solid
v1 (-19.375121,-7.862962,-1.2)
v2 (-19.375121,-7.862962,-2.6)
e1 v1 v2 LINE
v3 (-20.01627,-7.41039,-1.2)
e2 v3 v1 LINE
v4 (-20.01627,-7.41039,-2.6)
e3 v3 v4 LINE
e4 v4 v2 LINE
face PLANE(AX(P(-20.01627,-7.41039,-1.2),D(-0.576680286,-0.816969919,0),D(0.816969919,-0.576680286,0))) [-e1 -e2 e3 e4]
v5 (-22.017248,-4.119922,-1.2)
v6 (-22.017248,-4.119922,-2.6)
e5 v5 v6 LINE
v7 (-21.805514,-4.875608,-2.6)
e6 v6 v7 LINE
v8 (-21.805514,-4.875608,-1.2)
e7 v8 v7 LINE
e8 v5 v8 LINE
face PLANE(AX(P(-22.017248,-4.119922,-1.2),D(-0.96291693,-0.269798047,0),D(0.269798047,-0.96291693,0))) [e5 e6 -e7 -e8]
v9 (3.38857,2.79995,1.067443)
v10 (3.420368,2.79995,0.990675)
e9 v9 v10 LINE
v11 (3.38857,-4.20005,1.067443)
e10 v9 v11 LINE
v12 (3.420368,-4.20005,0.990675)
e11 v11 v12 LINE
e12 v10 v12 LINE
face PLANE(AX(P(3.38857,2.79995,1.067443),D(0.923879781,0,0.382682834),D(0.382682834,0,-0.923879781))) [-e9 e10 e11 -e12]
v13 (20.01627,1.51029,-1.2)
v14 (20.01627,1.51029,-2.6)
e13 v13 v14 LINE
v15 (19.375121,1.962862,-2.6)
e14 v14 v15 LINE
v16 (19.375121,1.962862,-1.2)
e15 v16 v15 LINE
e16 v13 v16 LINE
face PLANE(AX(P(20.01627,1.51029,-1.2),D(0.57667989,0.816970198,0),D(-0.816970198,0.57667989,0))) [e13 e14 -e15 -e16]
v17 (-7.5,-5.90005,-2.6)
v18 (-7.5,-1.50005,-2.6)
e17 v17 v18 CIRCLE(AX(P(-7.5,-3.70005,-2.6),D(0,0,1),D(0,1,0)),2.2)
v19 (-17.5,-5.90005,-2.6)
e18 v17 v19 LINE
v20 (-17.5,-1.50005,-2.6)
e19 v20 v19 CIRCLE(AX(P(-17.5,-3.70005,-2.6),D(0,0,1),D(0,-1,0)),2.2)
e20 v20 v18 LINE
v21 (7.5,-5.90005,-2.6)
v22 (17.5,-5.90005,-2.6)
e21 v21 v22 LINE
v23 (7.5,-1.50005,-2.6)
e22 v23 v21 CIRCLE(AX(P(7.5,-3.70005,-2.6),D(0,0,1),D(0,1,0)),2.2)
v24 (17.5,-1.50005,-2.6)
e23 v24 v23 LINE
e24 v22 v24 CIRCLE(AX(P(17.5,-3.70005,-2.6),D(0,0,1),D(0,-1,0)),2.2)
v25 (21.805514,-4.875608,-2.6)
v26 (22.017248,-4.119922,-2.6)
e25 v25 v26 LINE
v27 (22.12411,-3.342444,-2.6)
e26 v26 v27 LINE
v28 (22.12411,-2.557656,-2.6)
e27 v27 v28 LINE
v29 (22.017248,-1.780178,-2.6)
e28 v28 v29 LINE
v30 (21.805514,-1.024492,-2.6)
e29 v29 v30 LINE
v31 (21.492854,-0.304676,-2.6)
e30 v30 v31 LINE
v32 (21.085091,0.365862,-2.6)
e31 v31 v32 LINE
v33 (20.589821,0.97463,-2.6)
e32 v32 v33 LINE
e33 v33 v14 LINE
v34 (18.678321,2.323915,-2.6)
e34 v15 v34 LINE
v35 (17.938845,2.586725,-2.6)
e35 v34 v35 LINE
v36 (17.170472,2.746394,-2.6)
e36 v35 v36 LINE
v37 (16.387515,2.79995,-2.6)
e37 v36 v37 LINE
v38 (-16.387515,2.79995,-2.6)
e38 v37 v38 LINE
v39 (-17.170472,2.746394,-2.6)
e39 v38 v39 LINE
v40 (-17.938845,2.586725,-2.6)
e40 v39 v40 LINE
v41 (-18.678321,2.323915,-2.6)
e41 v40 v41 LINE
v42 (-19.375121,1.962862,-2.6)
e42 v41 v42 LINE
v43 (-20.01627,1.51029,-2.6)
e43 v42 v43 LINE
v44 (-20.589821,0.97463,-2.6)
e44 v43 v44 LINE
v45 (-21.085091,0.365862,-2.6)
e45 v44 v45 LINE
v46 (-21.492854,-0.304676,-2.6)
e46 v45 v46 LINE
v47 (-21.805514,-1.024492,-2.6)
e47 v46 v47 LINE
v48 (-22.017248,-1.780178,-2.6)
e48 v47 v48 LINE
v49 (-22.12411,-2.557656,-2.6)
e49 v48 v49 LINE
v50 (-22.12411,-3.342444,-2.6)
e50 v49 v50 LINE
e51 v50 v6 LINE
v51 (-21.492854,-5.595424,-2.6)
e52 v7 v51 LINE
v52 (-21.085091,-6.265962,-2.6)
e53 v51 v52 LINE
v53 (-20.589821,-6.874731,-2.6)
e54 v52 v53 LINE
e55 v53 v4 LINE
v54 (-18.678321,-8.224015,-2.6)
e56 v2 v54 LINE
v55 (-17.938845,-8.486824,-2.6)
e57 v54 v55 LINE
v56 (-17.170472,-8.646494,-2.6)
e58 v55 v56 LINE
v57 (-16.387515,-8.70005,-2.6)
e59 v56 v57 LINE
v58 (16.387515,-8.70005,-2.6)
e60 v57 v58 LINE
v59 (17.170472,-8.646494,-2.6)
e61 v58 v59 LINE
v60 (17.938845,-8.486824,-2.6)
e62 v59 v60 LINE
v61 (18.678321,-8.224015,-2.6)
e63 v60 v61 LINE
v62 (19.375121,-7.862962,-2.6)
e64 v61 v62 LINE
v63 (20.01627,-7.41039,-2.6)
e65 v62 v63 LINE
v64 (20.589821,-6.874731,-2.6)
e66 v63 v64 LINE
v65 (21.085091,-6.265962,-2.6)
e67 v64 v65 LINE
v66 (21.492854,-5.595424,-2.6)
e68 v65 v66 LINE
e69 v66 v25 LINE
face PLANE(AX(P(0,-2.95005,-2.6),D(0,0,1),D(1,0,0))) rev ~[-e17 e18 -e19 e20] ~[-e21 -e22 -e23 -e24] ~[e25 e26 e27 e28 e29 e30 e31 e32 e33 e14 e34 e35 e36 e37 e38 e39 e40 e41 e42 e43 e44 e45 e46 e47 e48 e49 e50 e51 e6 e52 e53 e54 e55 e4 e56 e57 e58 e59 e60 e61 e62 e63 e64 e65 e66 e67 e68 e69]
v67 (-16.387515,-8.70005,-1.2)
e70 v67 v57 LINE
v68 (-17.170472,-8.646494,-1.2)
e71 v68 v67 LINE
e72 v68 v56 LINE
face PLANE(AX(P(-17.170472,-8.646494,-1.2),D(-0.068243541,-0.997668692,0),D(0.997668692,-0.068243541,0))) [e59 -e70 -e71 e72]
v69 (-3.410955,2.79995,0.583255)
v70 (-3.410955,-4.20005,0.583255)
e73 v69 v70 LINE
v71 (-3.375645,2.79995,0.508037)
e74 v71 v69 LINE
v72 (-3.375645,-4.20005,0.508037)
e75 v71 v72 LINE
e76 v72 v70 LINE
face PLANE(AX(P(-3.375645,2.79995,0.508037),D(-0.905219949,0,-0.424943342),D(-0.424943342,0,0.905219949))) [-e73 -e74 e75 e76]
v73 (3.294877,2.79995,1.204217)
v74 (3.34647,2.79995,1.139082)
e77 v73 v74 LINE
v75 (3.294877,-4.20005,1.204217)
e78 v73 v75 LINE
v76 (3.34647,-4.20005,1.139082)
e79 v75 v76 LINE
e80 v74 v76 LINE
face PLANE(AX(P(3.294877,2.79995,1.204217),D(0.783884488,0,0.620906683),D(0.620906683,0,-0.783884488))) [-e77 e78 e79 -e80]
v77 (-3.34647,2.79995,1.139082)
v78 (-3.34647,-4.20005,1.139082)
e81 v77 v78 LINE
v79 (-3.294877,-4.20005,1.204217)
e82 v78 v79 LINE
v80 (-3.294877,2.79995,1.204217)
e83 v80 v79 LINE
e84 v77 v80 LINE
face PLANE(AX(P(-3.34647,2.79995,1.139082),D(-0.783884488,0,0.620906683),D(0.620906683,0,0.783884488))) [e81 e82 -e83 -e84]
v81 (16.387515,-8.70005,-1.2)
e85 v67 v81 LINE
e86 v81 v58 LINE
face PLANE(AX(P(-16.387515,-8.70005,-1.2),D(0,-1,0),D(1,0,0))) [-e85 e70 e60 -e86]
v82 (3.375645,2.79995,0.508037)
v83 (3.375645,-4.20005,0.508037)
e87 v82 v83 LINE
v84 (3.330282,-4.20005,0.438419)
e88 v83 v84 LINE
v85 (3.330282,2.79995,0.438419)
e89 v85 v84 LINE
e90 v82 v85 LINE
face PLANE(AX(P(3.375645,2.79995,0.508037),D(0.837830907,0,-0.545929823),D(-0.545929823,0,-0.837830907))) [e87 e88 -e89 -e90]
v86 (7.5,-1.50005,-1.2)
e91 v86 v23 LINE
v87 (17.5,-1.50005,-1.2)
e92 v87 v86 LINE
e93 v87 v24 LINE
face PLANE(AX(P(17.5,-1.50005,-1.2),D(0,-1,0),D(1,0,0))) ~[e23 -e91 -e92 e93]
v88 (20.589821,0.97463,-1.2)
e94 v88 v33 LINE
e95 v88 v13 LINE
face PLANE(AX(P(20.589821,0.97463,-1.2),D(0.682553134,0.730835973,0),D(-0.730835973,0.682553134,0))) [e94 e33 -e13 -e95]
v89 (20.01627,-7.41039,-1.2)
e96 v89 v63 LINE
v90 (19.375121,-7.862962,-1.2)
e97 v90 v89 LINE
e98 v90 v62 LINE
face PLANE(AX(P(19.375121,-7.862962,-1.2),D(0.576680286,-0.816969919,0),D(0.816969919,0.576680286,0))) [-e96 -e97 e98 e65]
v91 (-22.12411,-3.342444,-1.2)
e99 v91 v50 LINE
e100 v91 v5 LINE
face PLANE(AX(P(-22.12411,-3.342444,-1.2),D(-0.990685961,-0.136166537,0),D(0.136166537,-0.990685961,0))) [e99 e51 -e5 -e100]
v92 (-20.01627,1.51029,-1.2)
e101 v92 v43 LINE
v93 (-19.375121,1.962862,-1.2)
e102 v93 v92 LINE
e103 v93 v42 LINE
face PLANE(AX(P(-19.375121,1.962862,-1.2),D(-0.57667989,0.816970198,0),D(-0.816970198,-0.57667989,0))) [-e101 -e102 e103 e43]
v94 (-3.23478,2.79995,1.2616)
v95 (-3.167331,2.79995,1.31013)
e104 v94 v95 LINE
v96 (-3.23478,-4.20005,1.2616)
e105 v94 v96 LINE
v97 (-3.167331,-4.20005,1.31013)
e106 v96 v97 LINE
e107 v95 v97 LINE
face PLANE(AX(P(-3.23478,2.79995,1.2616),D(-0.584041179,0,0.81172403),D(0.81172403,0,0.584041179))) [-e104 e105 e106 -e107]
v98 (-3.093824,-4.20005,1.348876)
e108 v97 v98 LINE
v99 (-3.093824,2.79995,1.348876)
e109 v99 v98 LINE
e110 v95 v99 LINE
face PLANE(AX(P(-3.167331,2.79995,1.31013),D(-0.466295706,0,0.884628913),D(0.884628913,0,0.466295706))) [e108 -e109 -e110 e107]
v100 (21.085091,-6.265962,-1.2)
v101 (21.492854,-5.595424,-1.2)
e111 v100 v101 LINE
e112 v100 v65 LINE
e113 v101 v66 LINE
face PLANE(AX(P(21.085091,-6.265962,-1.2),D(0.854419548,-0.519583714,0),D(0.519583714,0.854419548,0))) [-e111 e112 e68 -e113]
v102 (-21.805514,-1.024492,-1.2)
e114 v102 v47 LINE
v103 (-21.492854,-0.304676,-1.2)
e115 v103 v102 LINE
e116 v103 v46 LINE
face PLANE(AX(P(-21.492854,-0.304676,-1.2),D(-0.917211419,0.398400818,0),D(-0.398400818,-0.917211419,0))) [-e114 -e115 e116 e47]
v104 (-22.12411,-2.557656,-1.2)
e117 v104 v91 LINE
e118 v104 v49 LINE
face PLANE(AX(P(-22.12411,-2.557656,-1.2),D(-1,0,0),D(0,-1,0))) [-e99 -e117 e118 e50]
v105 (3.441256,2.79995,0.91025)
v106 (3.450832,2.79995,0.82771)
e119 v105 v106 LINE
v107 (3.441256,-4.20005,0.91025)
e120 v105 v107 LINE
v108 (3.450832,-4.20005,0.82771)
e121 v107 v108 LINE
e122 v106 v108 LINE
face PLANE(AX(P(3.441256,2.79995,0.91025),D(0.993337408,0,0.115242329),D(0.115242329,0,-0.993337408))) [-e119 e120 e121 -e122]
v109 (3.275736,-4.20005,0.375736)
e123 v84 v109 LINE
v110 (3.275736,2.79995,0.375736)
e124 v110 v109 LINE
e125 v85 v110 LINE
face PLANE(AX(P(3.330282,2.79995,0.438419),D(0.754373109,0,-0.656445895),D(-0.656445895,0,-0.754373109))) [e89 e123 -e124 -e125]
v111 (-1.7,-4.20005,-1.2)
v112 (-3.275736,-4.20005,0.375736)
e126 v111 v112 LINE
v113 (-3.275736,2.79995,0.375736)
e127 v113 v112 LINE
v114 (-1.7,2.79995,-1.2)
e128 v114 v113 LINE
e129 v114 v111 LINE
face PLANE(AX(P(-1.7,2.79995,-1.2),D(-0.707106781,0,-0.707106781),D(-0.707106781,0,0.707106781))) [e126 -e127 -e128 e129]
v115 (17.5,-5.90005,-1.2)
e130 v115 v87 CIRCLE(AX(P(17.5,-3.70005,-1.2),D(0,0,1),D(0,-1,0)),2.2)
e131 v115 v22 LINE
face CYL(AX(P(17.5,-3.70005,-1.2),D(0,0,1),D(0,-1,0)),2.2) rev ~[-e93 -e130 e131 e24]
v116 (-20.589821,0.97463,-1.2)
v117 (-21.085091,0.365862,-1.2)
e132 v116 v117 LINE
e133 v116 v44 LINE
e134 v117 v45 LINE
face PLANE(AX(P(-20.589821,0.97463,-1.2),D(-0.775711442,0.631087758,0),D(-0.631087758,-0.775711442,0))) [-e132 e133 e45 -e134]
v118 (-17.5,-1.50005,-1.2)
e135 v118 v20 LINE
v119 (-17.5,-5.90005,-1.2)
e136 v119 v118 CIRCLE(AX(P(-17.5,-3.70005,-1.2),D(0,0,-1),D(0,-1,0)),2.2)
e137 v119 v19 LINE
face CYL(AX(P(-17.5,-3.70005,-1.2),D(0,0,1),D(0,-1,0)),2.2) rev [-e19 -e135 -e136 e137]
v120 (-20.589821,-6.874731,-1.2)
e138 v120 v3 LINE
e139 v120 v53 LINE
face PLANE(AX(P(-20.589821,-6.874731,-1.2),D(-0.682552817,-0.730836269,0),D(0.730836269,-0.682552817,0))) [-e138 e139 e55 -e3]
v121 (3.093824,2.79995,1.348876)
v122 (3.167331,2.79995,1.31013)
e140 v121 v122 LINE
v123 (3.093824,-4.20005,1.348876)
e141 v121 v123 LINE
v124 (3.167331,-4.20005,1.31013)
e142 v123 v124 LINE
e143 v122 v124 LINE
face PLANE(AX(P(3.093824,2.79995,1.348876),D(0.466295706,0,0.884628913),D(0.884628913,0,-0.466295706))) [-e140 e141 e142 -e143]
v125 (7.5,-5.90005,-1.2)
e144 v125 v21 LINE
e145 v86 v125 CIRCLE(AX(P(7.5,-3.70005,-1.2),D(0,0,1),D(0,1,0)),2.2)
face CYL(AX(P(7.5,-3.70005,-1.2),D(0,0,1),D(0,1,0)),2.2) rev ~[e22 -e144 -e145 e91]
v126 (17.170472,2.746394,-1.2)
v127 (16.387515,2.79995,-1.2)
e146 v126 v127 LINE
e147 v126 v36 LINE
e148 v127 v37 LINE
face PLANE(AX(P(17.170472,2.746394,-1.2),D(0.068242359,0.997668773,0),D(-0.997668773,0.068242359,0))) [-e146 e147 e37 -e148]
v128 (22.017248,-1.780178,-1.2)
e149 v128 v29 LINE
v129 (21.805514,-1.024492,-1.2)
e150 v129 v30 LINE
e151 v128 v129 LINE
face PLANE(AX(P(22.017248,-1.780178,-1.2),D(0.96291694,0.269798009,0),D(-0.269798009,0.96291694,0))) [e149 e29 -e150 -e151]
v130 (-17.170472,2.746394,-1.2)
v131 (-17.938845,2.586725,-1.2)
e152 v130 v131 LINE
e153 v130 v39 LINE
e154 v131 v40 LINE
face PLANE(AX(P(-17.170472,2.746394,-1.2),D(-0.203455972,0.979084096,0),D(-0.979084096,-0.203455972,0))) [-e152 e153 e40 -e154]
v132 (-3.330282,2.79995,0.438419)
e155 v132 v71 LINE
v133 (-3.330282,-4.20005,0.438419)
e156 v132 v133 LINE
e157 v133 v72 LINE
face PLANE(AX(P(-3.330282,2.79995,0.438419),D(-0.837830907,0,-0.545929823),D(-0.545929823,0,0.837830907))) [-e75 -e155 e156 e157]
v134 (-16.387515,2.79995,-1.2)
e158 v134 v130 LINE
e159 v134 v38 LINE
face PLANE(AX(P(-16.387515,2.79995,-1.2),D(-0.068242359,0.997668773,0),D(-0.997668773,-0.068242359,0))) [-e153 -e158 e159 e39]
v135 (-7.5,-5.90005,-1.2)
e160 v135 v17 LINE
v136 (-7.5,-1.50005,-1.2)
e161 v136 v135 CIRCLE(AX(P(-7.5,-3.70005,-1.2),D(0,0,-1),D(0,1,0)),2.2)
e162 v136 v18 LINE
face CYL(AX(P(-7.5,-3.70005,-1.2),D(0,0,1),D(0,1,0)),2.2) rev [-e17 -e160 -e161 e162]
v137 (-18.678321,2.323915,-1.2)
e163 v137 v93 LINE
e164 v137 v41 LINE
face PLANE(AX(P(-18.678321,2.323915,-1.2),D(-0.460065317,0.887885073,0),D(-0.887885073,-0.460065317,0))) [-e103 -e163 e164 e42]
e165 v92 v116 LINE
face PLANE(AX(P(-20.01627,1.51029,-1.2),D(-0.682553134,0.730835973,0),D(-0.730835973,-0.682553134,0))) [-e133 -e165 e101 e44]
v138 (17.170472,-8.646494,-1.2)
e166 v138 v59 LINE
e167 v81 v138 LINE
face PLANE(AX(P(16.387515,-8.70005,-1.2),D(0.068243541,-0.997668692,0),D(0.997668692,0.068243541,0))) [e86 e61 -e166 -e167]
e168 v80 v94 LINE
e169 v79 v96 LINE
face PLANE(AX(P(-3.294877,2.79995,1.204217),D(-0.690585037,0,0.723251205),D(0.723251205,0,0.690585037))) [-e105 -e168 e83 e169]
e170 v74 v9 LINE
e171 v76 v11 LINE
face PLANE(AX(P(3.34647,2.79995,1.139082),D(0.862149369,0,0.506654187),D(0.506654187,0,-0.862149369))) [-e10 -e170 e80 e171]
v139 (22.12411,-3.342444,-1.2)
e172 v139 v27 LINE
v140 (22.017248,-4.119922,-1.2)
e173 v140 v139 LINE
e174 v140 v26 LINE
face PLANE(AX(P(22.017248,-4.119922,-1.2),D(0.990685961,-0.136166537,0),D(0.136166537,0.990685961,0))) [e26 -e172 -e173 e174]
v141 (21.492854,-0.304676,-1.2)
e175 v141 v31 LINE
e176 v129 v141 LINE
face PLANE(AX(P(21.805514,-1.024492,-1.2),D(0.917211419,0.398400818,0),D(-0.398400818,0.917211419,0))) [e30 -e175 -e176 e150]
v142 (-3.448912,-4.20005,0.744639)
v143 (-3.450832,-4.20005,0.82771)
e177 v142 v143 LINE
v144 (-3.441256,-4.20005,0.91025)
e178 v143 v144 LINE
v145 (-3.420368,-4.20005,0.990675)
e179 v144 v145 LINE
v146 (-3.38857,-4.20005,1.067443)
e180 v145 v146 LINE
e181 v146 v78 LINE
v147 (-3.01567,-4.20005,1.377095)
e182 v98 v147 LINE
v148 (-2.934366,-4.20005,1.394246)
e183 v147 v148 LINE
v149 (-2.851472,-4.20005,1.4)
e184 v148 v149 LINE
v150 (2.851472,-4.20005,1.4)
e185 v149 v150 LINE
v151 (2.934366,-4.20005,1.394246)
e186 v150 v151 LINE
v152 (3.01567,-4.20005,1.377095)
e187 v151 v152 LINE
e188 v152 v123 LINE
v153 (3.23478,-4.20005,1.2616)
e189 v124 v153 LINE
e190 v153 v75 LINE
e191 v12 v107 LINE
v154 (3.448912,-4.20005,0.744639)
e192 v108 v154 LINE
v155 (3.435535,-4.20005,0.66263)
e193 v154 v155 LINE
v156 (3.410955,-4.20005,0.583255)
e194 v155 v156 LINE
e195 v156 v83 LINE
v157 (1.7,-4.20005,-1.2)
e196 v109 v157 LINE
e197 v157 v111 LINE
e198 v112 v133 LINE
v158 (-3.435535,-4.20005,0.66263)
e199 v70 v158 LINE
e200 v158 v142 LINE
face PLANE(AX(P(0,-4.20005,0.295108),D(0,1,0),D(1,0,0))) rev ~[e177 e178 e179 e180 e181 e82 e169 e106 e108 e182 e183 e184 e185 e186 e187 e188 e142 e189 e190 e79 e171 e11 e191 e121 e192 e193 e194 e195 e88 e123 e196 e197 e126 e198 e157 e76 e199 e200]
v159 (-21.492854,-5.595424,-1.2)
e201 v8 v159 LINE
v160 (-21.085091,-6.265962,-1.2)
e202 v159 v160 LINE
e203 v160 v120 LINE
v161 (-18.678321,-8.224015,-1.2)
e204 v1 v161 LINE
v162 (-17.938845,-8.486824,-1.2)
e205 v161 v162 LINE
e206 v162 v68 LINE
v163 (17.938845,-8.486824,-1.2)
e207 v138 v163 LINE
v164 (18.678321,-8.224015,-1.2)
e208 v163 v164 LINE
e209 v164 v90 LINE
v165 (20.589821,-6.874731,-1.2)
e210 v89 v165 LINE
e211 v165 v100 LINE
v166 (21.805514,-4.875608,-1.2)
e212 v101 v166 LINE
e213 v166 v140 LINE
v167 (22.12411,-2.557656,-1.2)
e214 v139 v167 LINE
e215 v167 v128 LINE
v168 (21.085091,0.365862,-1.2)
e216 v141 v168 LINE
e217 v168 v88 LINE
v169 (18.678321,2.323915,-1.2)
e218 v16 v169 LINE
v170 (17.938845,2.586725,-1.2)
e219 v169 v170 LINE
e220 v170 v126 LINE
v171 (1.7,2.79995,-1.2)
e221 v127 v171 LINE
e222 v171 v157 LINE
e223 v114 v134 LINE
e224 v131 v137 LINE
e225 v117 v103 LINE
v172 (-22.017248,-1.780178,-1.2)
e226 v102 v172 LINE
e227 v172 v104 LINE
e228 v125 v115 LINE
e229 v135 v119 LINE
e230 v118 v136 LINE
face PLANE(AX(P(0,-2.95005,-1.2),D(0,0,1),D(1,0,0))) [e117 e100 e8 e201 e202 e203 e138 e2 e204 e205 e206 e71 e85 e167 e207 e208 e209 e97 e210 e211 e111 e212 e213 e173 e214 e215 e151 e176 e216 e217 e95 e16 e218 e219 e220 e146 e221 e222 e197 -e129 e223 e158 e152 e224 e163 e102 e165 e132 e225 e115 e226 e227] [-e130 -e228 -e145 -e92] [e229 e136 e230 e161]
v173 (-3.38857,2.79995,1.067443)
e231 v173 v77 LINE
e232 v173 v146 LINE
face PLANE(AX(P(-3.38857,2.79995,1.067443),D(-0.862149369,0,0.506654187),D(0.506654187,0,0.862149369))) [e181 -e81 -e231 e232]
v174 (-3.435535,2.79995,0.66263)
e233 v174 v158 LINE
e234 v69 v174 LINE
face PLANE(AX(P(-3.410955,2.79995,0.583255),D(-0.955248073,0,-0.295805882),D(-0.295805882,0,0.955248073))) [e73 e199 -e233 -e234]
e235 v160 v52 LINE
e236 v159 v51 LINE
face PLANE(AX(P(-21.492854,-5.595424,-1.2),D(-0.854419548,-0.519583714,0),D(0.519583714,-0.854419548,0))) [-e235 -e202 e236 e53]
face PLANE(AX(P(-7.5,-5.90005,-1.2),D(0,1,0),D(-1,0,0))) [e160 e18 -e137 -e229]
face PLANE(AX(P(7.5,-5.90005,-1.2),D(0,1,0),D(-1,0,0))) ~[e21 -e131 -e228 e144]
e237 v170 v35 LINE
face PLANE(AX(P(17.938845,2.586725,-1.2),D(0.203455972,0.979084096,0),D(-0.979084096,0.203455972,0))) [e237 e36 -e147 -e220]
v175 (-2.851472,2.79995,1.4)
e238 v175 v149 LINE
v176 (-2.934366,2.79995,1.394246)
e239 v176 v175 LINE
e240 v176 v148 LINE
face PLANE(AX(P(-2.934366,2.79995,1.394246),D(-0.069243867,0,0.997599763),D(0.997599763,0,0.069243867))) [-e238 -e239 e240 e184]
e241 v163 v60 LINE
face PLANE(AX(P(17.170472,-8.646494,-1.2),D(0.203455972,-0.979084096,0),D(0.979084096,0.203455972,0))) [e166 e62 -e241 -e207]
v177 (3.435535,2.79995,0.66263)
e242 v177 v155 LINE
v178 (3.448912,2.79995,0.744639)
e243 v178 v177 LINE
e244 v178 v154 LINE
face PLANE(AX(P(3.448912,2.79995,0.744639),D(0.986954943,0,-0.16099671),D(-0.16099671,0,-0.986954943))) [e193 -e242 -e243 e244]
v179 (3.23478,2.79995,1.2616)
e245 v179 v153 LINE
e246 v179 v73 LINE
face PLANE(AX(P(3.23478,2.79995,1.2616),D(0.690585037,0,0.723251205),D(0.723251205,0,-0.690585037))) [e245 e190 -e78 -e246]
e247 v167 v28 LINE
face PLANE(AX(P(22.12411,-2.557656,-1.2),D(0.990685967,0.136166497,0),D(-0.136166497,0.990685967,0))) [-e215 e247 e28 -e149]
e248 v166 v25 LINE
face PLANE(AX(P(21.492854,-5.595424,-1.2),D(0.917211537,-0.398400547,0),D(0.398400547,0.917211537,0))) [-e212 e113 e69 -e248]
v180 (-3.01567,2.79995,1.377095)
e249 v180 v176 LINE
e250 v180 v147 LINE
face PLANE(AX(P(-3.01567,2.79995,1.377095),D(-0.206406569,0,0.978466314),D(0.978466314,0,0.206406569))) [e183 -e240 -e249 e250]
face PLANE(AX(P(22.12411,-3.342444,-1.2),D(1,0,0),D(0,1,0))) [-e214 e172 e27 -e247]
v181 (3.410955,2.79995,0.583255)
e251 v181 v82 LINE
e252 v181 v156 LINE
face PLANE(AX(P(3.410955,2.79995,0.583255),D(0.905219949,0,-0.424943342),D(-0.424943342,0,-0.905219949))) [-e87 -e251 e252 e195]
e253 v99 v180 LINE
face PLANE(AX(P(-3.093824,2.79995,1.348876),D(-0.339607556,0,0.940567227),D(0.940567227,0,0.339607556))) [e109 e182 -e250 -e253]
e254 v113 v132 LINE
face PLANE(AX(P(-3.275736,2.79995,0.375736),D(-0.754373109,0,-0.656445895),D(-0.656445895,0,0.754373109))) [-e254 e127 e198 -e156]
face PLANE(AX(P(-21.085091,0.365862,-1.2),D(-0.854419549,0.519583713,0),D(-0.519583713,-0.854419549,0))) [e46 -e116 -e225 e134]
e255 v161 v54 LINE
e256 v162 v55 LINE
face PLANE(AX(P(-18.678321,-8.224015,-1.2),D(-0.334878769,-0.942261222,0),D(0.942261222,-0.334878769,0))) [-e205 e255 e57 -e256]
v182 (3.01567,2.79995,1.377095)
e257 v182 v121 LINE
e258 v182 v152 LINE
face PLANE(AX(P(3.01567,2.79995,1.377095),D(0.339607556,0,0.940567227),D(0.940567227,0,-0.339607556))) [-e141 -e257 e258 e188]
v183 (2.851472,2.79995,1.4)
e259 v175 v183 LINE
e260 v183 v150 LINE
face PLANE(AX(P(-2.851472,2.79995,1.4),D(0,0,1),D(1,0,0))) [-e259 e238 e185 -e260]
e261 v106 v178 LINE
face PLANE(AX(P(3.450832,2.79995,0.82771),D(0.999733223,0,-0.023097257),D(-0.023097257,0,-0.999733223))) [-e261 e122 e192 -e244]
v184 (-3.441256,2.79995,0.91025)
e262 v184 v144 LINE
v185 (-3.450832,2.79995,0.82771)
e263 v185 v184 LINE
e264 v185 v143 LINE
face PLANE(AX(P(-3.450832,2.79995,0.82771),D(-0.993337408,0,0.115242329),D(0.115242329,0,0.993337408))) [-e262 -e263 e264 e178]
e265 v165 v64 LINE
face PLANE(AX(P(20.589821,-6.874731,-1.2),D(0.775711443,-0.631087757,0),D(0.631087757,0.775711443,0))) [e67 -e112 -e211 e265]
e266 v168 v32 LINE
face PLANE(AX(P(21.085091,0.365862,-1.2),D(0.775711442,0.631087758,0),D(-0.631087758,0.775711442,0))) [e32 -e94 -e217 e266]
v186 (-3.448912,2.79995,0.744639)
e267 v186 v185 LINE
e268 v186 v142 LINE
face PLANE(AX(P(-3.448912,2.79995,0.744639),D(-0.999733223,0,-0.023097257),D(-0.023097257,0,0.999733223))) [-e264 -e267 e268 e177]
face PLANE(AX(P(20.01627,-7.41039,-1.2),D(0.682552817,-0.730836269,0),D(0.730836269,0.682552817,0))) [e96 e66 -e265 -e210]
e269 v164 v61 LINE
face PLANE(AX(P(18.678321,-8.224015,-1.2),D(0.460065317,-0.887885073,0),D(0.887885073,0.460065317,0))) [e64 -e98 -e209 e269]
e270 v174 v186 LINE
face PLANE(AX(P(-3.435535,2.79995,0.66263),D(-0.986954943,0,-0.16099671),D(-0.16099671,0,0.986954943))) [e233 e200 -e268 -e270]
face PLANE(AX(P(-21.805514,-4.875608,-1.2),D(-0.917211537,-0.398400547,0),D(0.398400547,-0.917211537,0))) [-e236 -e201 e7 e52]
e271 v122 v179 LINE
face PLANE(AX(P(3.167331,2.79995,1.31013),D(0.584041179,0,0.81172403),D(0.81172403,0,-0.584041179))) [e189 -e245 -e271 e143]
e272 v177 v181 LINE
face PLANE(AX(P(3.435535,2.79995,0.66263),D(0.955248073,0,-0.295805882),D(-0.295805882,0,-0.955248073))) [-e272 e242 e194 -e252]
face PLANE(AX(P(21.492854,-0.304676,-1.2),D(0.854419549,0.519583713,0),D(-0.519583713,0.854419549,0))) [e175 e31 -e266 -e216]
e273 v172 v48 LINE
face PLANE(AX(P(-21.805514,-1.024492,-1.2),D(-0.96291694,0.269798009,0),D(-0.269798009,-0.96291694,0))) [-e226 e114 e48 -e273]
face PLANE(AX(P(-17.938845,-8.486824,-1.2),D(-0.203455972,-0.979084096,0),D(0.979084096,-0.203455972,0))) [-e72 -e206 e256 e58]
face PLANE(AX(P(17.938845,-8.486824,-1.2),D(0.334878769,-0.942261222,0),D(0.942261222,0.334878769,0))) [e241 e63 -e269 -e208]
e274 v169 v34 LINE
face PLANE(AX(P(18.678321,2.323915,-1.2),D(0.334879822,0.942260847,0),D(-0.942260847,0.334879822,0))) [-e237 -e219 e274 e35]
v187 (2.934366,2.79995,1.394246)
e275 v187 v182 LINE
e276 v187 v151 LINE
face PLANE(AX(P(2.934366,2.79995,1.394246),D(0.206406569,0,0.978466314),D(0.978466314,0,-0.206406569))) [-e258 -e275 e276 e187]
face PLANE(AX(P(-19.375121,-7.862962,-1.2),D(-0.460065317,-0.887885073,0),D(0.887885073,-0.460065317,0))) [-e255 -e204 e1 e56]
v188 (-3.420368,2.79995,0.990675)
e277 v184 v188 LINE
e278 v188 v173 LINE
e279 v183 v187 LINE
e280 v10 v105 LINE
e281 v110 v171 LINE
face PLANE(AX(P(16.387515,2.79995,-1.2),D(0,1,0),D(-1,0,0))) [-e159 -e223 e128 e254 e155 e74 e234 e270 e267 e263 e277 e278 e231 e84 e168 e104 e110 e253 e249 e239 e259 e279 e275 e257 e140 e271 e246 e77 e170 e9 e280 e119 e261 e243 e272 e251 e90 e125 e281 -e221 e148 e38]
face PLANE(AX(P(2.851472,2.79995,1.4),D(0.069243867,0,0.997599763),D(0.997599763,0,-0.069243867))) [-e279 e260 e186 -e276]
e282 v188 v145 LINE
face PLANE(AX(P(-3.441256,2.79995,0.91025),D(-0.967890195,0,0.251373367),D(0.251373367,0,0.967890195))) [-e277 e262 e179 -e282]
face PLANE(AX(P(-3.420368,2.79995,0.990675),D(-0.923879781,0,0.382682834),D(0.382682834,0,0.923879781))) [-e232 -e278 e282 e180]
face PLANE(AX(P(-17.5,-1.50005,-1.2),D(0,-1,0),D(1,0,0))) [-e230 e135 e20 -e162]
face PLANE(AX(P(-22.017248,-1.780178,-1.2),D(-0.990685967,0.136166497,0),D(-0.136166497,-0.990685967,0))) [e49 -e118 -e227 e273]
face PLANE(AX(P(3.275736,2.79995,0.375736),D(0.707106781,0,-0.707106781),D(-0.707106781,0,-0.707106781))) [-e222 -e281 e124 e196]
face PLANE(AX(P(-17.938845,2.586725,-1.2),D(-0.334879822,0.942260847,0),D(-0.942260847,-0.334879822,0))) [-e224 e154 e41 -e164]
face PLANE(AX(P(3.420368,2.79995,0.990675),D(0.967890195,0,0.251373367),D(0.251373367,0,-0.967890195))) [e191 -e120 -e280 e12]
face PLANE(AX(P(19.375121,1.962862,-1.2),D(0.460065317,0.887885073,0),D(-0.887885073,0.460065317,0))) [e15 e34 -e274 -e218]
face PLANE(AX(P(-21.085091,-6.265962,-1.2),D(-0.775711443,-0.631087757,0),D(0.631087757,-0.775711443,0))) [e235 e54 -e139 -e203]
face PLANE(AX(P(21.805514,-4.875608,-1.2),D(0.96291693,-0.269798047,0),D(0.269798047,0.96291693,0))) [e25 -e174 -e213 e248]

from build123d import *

# Parameters (mm, degrees)
BOSS_EXTRUDE1_DEPTH = 1.39999995
CUT_EXTRUDE1_DEPTH  = 2.39999995
BOSS_EXTRUDE2_DEPTH = 6.99999975


with BuildPart() as part:
    # Sketch1 → Boss-Extrude1 (new body)
    with BuildSketch(Plane.XY.offset(-1.200000057)):
        Polygon((17.170472071, 2.74639437), (16.38751477, 2.799950074), (-16.38751477, 2.799950074), (-17.170472071, 2.74639437), (-17.93884486, 2.586724702), (-18.678320572, 2.323914785), (-19.375121221, 1.962861512), (-20.016269758, 1.510289963), (-20.589821041, 0.974630471), (-21.085090935, 0.365861692), (-21.492853761, -0.304676127), (-21.80551365, -1.024491969), (-22.017247975, -1.780177932), (-22.12410979, -2.557656262), (-22.12410979, -3.342443844), (-22.017247975, -4.119921941), (-21.80551365, -4.875607789), (-21.492853761, -5.595424213), (-21.085090935, -6.265962031), (-20.589821041, -6.874730811), (-20.016269758, -7.410389837), (-19.375121221, -7.862961851), (-18.678320572, -8.224015124), (-17.93884486, -8.48682411), (-17.170472071, -8.646493778), (-16.38751477, -8.700050414), (16.38751477, -8.700050414), (17.170472071, -8.646493778), (17.93884486, -8.48682411), (18.678320572, -8.224015124), (19.375121221, -7.862961851), (20.016269758, -7.410389837), (20.589821041, -6.874730811), (21.085090935, -6.265962031), (21.492853761, -5.595424213), (21.80551365, -4.875607789), (22.017247975, -4.119921941), (22.12410979, -3.342443844), (22.12410979, -2.557656262), (22.017247975, -1.780177932), (21.80551365, -1.024491969), (21.492853761, -0.304676127), (21.085090935, 0.365861692), (20.589821041, 0.974630471), (20.016269758, 1.510289963), (19.375121221, 1.962861512), (18.678320572, 2.323914785), (17.93884486, 2.586724702), align=None)
    extrude(amount=-BOSS_EXTRUDE1_DEPTH)

    # Sketch2 → Cut-Extrude1 (cut, through all)
    with BuildSketch(Plane.XY.offset(-1.200000057)):
        with BuildLine():
            Line((-7.499999832, -5.900050048), (-17.500000075, -5.900050048))
            ThreePointArc((-17.500000075, -5.900050048), (-19.700000075, -3.700050048), (-17.500000075, -1.500050048))
            Line((-17.500000075, -1.500050048), (-7.499999832, -1.500050048))
            ThreePointArc((-7.499999832, -1.500050048), (-5.299999832, -3.700050048), (-7.499999832, -5.900050048))
        make_face()
    cut_extrude1 = extrude(amount=-CUT_EXTRUDE1_DEPTH, mode=Mode.SUBTRACT)

    # Mirror1: Cut-Extrude1 across plane
    add(cut_extrude1.mirror(Plane(origin=(0, 0, 0), x_dir=(0, 0, 1), z_dir=(1, 0, 0))), mode=Mode.SUBTRACT)

    # Sketch4 → Boss-Extrude2 (add)
    with BuildSketch(Plane(origin=(0, 2.799950074, 0), x_dir=(1, 0, 0), z_dir=(0, 1, 0))):
        Polygon((3.330282168, -0.438419171), (3.275736002, -0.375735923), (1.700000023, 1.200000057), (-1.700000023, 1.200000057), (-3.275736002, -0.375735923), (-3.330282168, -0.438419171), (-3.375645261, -0.508037279), (-3.410955193, -0.583254965), (-3.435534658, -0.662629609), (-3.448912408, -0.744638965), (-3.450831631, -0.827709911), (-3.441255772, -0.910249539), (-3.420368303, -0.990674831), (-3.388569923, -1.067443052), (-3.346470417, -1.139081782), (-3.294877242, -1.204217318), (-3.234779928, -1.261600293), (-3.167331219, -1.310130116), (-3.093824489, -1.348876162), (-3.015669761, -1.377095236), (-2.934365766, -1.394246239), (-2.851471771, -1.39999995), (2.851471771, -1.39999995), (2.934365766, -1.394246239), (3.015669761, -1.377095236), (3.093824489, -1.348876162), (3.167331219, -1.310130116), (3.234779928, -1.261600293), (3.294877242, -1.204217318), (3.346470417, -1.139081782), (3.388569923, -1.067443052), (3.420368303, -0.990674831), (3.441255772, -0.910249539), (3.450831631, -0.827709911), (3.448912408, -0.744638965), (3.435534658, -0.662629609), (3.410955193, -0.583254965), (3.375645261, -0.508037279), align=None)
    extrude(amount=-BOSS_EXTRUDE2_DEPTH)


solid = part.part
